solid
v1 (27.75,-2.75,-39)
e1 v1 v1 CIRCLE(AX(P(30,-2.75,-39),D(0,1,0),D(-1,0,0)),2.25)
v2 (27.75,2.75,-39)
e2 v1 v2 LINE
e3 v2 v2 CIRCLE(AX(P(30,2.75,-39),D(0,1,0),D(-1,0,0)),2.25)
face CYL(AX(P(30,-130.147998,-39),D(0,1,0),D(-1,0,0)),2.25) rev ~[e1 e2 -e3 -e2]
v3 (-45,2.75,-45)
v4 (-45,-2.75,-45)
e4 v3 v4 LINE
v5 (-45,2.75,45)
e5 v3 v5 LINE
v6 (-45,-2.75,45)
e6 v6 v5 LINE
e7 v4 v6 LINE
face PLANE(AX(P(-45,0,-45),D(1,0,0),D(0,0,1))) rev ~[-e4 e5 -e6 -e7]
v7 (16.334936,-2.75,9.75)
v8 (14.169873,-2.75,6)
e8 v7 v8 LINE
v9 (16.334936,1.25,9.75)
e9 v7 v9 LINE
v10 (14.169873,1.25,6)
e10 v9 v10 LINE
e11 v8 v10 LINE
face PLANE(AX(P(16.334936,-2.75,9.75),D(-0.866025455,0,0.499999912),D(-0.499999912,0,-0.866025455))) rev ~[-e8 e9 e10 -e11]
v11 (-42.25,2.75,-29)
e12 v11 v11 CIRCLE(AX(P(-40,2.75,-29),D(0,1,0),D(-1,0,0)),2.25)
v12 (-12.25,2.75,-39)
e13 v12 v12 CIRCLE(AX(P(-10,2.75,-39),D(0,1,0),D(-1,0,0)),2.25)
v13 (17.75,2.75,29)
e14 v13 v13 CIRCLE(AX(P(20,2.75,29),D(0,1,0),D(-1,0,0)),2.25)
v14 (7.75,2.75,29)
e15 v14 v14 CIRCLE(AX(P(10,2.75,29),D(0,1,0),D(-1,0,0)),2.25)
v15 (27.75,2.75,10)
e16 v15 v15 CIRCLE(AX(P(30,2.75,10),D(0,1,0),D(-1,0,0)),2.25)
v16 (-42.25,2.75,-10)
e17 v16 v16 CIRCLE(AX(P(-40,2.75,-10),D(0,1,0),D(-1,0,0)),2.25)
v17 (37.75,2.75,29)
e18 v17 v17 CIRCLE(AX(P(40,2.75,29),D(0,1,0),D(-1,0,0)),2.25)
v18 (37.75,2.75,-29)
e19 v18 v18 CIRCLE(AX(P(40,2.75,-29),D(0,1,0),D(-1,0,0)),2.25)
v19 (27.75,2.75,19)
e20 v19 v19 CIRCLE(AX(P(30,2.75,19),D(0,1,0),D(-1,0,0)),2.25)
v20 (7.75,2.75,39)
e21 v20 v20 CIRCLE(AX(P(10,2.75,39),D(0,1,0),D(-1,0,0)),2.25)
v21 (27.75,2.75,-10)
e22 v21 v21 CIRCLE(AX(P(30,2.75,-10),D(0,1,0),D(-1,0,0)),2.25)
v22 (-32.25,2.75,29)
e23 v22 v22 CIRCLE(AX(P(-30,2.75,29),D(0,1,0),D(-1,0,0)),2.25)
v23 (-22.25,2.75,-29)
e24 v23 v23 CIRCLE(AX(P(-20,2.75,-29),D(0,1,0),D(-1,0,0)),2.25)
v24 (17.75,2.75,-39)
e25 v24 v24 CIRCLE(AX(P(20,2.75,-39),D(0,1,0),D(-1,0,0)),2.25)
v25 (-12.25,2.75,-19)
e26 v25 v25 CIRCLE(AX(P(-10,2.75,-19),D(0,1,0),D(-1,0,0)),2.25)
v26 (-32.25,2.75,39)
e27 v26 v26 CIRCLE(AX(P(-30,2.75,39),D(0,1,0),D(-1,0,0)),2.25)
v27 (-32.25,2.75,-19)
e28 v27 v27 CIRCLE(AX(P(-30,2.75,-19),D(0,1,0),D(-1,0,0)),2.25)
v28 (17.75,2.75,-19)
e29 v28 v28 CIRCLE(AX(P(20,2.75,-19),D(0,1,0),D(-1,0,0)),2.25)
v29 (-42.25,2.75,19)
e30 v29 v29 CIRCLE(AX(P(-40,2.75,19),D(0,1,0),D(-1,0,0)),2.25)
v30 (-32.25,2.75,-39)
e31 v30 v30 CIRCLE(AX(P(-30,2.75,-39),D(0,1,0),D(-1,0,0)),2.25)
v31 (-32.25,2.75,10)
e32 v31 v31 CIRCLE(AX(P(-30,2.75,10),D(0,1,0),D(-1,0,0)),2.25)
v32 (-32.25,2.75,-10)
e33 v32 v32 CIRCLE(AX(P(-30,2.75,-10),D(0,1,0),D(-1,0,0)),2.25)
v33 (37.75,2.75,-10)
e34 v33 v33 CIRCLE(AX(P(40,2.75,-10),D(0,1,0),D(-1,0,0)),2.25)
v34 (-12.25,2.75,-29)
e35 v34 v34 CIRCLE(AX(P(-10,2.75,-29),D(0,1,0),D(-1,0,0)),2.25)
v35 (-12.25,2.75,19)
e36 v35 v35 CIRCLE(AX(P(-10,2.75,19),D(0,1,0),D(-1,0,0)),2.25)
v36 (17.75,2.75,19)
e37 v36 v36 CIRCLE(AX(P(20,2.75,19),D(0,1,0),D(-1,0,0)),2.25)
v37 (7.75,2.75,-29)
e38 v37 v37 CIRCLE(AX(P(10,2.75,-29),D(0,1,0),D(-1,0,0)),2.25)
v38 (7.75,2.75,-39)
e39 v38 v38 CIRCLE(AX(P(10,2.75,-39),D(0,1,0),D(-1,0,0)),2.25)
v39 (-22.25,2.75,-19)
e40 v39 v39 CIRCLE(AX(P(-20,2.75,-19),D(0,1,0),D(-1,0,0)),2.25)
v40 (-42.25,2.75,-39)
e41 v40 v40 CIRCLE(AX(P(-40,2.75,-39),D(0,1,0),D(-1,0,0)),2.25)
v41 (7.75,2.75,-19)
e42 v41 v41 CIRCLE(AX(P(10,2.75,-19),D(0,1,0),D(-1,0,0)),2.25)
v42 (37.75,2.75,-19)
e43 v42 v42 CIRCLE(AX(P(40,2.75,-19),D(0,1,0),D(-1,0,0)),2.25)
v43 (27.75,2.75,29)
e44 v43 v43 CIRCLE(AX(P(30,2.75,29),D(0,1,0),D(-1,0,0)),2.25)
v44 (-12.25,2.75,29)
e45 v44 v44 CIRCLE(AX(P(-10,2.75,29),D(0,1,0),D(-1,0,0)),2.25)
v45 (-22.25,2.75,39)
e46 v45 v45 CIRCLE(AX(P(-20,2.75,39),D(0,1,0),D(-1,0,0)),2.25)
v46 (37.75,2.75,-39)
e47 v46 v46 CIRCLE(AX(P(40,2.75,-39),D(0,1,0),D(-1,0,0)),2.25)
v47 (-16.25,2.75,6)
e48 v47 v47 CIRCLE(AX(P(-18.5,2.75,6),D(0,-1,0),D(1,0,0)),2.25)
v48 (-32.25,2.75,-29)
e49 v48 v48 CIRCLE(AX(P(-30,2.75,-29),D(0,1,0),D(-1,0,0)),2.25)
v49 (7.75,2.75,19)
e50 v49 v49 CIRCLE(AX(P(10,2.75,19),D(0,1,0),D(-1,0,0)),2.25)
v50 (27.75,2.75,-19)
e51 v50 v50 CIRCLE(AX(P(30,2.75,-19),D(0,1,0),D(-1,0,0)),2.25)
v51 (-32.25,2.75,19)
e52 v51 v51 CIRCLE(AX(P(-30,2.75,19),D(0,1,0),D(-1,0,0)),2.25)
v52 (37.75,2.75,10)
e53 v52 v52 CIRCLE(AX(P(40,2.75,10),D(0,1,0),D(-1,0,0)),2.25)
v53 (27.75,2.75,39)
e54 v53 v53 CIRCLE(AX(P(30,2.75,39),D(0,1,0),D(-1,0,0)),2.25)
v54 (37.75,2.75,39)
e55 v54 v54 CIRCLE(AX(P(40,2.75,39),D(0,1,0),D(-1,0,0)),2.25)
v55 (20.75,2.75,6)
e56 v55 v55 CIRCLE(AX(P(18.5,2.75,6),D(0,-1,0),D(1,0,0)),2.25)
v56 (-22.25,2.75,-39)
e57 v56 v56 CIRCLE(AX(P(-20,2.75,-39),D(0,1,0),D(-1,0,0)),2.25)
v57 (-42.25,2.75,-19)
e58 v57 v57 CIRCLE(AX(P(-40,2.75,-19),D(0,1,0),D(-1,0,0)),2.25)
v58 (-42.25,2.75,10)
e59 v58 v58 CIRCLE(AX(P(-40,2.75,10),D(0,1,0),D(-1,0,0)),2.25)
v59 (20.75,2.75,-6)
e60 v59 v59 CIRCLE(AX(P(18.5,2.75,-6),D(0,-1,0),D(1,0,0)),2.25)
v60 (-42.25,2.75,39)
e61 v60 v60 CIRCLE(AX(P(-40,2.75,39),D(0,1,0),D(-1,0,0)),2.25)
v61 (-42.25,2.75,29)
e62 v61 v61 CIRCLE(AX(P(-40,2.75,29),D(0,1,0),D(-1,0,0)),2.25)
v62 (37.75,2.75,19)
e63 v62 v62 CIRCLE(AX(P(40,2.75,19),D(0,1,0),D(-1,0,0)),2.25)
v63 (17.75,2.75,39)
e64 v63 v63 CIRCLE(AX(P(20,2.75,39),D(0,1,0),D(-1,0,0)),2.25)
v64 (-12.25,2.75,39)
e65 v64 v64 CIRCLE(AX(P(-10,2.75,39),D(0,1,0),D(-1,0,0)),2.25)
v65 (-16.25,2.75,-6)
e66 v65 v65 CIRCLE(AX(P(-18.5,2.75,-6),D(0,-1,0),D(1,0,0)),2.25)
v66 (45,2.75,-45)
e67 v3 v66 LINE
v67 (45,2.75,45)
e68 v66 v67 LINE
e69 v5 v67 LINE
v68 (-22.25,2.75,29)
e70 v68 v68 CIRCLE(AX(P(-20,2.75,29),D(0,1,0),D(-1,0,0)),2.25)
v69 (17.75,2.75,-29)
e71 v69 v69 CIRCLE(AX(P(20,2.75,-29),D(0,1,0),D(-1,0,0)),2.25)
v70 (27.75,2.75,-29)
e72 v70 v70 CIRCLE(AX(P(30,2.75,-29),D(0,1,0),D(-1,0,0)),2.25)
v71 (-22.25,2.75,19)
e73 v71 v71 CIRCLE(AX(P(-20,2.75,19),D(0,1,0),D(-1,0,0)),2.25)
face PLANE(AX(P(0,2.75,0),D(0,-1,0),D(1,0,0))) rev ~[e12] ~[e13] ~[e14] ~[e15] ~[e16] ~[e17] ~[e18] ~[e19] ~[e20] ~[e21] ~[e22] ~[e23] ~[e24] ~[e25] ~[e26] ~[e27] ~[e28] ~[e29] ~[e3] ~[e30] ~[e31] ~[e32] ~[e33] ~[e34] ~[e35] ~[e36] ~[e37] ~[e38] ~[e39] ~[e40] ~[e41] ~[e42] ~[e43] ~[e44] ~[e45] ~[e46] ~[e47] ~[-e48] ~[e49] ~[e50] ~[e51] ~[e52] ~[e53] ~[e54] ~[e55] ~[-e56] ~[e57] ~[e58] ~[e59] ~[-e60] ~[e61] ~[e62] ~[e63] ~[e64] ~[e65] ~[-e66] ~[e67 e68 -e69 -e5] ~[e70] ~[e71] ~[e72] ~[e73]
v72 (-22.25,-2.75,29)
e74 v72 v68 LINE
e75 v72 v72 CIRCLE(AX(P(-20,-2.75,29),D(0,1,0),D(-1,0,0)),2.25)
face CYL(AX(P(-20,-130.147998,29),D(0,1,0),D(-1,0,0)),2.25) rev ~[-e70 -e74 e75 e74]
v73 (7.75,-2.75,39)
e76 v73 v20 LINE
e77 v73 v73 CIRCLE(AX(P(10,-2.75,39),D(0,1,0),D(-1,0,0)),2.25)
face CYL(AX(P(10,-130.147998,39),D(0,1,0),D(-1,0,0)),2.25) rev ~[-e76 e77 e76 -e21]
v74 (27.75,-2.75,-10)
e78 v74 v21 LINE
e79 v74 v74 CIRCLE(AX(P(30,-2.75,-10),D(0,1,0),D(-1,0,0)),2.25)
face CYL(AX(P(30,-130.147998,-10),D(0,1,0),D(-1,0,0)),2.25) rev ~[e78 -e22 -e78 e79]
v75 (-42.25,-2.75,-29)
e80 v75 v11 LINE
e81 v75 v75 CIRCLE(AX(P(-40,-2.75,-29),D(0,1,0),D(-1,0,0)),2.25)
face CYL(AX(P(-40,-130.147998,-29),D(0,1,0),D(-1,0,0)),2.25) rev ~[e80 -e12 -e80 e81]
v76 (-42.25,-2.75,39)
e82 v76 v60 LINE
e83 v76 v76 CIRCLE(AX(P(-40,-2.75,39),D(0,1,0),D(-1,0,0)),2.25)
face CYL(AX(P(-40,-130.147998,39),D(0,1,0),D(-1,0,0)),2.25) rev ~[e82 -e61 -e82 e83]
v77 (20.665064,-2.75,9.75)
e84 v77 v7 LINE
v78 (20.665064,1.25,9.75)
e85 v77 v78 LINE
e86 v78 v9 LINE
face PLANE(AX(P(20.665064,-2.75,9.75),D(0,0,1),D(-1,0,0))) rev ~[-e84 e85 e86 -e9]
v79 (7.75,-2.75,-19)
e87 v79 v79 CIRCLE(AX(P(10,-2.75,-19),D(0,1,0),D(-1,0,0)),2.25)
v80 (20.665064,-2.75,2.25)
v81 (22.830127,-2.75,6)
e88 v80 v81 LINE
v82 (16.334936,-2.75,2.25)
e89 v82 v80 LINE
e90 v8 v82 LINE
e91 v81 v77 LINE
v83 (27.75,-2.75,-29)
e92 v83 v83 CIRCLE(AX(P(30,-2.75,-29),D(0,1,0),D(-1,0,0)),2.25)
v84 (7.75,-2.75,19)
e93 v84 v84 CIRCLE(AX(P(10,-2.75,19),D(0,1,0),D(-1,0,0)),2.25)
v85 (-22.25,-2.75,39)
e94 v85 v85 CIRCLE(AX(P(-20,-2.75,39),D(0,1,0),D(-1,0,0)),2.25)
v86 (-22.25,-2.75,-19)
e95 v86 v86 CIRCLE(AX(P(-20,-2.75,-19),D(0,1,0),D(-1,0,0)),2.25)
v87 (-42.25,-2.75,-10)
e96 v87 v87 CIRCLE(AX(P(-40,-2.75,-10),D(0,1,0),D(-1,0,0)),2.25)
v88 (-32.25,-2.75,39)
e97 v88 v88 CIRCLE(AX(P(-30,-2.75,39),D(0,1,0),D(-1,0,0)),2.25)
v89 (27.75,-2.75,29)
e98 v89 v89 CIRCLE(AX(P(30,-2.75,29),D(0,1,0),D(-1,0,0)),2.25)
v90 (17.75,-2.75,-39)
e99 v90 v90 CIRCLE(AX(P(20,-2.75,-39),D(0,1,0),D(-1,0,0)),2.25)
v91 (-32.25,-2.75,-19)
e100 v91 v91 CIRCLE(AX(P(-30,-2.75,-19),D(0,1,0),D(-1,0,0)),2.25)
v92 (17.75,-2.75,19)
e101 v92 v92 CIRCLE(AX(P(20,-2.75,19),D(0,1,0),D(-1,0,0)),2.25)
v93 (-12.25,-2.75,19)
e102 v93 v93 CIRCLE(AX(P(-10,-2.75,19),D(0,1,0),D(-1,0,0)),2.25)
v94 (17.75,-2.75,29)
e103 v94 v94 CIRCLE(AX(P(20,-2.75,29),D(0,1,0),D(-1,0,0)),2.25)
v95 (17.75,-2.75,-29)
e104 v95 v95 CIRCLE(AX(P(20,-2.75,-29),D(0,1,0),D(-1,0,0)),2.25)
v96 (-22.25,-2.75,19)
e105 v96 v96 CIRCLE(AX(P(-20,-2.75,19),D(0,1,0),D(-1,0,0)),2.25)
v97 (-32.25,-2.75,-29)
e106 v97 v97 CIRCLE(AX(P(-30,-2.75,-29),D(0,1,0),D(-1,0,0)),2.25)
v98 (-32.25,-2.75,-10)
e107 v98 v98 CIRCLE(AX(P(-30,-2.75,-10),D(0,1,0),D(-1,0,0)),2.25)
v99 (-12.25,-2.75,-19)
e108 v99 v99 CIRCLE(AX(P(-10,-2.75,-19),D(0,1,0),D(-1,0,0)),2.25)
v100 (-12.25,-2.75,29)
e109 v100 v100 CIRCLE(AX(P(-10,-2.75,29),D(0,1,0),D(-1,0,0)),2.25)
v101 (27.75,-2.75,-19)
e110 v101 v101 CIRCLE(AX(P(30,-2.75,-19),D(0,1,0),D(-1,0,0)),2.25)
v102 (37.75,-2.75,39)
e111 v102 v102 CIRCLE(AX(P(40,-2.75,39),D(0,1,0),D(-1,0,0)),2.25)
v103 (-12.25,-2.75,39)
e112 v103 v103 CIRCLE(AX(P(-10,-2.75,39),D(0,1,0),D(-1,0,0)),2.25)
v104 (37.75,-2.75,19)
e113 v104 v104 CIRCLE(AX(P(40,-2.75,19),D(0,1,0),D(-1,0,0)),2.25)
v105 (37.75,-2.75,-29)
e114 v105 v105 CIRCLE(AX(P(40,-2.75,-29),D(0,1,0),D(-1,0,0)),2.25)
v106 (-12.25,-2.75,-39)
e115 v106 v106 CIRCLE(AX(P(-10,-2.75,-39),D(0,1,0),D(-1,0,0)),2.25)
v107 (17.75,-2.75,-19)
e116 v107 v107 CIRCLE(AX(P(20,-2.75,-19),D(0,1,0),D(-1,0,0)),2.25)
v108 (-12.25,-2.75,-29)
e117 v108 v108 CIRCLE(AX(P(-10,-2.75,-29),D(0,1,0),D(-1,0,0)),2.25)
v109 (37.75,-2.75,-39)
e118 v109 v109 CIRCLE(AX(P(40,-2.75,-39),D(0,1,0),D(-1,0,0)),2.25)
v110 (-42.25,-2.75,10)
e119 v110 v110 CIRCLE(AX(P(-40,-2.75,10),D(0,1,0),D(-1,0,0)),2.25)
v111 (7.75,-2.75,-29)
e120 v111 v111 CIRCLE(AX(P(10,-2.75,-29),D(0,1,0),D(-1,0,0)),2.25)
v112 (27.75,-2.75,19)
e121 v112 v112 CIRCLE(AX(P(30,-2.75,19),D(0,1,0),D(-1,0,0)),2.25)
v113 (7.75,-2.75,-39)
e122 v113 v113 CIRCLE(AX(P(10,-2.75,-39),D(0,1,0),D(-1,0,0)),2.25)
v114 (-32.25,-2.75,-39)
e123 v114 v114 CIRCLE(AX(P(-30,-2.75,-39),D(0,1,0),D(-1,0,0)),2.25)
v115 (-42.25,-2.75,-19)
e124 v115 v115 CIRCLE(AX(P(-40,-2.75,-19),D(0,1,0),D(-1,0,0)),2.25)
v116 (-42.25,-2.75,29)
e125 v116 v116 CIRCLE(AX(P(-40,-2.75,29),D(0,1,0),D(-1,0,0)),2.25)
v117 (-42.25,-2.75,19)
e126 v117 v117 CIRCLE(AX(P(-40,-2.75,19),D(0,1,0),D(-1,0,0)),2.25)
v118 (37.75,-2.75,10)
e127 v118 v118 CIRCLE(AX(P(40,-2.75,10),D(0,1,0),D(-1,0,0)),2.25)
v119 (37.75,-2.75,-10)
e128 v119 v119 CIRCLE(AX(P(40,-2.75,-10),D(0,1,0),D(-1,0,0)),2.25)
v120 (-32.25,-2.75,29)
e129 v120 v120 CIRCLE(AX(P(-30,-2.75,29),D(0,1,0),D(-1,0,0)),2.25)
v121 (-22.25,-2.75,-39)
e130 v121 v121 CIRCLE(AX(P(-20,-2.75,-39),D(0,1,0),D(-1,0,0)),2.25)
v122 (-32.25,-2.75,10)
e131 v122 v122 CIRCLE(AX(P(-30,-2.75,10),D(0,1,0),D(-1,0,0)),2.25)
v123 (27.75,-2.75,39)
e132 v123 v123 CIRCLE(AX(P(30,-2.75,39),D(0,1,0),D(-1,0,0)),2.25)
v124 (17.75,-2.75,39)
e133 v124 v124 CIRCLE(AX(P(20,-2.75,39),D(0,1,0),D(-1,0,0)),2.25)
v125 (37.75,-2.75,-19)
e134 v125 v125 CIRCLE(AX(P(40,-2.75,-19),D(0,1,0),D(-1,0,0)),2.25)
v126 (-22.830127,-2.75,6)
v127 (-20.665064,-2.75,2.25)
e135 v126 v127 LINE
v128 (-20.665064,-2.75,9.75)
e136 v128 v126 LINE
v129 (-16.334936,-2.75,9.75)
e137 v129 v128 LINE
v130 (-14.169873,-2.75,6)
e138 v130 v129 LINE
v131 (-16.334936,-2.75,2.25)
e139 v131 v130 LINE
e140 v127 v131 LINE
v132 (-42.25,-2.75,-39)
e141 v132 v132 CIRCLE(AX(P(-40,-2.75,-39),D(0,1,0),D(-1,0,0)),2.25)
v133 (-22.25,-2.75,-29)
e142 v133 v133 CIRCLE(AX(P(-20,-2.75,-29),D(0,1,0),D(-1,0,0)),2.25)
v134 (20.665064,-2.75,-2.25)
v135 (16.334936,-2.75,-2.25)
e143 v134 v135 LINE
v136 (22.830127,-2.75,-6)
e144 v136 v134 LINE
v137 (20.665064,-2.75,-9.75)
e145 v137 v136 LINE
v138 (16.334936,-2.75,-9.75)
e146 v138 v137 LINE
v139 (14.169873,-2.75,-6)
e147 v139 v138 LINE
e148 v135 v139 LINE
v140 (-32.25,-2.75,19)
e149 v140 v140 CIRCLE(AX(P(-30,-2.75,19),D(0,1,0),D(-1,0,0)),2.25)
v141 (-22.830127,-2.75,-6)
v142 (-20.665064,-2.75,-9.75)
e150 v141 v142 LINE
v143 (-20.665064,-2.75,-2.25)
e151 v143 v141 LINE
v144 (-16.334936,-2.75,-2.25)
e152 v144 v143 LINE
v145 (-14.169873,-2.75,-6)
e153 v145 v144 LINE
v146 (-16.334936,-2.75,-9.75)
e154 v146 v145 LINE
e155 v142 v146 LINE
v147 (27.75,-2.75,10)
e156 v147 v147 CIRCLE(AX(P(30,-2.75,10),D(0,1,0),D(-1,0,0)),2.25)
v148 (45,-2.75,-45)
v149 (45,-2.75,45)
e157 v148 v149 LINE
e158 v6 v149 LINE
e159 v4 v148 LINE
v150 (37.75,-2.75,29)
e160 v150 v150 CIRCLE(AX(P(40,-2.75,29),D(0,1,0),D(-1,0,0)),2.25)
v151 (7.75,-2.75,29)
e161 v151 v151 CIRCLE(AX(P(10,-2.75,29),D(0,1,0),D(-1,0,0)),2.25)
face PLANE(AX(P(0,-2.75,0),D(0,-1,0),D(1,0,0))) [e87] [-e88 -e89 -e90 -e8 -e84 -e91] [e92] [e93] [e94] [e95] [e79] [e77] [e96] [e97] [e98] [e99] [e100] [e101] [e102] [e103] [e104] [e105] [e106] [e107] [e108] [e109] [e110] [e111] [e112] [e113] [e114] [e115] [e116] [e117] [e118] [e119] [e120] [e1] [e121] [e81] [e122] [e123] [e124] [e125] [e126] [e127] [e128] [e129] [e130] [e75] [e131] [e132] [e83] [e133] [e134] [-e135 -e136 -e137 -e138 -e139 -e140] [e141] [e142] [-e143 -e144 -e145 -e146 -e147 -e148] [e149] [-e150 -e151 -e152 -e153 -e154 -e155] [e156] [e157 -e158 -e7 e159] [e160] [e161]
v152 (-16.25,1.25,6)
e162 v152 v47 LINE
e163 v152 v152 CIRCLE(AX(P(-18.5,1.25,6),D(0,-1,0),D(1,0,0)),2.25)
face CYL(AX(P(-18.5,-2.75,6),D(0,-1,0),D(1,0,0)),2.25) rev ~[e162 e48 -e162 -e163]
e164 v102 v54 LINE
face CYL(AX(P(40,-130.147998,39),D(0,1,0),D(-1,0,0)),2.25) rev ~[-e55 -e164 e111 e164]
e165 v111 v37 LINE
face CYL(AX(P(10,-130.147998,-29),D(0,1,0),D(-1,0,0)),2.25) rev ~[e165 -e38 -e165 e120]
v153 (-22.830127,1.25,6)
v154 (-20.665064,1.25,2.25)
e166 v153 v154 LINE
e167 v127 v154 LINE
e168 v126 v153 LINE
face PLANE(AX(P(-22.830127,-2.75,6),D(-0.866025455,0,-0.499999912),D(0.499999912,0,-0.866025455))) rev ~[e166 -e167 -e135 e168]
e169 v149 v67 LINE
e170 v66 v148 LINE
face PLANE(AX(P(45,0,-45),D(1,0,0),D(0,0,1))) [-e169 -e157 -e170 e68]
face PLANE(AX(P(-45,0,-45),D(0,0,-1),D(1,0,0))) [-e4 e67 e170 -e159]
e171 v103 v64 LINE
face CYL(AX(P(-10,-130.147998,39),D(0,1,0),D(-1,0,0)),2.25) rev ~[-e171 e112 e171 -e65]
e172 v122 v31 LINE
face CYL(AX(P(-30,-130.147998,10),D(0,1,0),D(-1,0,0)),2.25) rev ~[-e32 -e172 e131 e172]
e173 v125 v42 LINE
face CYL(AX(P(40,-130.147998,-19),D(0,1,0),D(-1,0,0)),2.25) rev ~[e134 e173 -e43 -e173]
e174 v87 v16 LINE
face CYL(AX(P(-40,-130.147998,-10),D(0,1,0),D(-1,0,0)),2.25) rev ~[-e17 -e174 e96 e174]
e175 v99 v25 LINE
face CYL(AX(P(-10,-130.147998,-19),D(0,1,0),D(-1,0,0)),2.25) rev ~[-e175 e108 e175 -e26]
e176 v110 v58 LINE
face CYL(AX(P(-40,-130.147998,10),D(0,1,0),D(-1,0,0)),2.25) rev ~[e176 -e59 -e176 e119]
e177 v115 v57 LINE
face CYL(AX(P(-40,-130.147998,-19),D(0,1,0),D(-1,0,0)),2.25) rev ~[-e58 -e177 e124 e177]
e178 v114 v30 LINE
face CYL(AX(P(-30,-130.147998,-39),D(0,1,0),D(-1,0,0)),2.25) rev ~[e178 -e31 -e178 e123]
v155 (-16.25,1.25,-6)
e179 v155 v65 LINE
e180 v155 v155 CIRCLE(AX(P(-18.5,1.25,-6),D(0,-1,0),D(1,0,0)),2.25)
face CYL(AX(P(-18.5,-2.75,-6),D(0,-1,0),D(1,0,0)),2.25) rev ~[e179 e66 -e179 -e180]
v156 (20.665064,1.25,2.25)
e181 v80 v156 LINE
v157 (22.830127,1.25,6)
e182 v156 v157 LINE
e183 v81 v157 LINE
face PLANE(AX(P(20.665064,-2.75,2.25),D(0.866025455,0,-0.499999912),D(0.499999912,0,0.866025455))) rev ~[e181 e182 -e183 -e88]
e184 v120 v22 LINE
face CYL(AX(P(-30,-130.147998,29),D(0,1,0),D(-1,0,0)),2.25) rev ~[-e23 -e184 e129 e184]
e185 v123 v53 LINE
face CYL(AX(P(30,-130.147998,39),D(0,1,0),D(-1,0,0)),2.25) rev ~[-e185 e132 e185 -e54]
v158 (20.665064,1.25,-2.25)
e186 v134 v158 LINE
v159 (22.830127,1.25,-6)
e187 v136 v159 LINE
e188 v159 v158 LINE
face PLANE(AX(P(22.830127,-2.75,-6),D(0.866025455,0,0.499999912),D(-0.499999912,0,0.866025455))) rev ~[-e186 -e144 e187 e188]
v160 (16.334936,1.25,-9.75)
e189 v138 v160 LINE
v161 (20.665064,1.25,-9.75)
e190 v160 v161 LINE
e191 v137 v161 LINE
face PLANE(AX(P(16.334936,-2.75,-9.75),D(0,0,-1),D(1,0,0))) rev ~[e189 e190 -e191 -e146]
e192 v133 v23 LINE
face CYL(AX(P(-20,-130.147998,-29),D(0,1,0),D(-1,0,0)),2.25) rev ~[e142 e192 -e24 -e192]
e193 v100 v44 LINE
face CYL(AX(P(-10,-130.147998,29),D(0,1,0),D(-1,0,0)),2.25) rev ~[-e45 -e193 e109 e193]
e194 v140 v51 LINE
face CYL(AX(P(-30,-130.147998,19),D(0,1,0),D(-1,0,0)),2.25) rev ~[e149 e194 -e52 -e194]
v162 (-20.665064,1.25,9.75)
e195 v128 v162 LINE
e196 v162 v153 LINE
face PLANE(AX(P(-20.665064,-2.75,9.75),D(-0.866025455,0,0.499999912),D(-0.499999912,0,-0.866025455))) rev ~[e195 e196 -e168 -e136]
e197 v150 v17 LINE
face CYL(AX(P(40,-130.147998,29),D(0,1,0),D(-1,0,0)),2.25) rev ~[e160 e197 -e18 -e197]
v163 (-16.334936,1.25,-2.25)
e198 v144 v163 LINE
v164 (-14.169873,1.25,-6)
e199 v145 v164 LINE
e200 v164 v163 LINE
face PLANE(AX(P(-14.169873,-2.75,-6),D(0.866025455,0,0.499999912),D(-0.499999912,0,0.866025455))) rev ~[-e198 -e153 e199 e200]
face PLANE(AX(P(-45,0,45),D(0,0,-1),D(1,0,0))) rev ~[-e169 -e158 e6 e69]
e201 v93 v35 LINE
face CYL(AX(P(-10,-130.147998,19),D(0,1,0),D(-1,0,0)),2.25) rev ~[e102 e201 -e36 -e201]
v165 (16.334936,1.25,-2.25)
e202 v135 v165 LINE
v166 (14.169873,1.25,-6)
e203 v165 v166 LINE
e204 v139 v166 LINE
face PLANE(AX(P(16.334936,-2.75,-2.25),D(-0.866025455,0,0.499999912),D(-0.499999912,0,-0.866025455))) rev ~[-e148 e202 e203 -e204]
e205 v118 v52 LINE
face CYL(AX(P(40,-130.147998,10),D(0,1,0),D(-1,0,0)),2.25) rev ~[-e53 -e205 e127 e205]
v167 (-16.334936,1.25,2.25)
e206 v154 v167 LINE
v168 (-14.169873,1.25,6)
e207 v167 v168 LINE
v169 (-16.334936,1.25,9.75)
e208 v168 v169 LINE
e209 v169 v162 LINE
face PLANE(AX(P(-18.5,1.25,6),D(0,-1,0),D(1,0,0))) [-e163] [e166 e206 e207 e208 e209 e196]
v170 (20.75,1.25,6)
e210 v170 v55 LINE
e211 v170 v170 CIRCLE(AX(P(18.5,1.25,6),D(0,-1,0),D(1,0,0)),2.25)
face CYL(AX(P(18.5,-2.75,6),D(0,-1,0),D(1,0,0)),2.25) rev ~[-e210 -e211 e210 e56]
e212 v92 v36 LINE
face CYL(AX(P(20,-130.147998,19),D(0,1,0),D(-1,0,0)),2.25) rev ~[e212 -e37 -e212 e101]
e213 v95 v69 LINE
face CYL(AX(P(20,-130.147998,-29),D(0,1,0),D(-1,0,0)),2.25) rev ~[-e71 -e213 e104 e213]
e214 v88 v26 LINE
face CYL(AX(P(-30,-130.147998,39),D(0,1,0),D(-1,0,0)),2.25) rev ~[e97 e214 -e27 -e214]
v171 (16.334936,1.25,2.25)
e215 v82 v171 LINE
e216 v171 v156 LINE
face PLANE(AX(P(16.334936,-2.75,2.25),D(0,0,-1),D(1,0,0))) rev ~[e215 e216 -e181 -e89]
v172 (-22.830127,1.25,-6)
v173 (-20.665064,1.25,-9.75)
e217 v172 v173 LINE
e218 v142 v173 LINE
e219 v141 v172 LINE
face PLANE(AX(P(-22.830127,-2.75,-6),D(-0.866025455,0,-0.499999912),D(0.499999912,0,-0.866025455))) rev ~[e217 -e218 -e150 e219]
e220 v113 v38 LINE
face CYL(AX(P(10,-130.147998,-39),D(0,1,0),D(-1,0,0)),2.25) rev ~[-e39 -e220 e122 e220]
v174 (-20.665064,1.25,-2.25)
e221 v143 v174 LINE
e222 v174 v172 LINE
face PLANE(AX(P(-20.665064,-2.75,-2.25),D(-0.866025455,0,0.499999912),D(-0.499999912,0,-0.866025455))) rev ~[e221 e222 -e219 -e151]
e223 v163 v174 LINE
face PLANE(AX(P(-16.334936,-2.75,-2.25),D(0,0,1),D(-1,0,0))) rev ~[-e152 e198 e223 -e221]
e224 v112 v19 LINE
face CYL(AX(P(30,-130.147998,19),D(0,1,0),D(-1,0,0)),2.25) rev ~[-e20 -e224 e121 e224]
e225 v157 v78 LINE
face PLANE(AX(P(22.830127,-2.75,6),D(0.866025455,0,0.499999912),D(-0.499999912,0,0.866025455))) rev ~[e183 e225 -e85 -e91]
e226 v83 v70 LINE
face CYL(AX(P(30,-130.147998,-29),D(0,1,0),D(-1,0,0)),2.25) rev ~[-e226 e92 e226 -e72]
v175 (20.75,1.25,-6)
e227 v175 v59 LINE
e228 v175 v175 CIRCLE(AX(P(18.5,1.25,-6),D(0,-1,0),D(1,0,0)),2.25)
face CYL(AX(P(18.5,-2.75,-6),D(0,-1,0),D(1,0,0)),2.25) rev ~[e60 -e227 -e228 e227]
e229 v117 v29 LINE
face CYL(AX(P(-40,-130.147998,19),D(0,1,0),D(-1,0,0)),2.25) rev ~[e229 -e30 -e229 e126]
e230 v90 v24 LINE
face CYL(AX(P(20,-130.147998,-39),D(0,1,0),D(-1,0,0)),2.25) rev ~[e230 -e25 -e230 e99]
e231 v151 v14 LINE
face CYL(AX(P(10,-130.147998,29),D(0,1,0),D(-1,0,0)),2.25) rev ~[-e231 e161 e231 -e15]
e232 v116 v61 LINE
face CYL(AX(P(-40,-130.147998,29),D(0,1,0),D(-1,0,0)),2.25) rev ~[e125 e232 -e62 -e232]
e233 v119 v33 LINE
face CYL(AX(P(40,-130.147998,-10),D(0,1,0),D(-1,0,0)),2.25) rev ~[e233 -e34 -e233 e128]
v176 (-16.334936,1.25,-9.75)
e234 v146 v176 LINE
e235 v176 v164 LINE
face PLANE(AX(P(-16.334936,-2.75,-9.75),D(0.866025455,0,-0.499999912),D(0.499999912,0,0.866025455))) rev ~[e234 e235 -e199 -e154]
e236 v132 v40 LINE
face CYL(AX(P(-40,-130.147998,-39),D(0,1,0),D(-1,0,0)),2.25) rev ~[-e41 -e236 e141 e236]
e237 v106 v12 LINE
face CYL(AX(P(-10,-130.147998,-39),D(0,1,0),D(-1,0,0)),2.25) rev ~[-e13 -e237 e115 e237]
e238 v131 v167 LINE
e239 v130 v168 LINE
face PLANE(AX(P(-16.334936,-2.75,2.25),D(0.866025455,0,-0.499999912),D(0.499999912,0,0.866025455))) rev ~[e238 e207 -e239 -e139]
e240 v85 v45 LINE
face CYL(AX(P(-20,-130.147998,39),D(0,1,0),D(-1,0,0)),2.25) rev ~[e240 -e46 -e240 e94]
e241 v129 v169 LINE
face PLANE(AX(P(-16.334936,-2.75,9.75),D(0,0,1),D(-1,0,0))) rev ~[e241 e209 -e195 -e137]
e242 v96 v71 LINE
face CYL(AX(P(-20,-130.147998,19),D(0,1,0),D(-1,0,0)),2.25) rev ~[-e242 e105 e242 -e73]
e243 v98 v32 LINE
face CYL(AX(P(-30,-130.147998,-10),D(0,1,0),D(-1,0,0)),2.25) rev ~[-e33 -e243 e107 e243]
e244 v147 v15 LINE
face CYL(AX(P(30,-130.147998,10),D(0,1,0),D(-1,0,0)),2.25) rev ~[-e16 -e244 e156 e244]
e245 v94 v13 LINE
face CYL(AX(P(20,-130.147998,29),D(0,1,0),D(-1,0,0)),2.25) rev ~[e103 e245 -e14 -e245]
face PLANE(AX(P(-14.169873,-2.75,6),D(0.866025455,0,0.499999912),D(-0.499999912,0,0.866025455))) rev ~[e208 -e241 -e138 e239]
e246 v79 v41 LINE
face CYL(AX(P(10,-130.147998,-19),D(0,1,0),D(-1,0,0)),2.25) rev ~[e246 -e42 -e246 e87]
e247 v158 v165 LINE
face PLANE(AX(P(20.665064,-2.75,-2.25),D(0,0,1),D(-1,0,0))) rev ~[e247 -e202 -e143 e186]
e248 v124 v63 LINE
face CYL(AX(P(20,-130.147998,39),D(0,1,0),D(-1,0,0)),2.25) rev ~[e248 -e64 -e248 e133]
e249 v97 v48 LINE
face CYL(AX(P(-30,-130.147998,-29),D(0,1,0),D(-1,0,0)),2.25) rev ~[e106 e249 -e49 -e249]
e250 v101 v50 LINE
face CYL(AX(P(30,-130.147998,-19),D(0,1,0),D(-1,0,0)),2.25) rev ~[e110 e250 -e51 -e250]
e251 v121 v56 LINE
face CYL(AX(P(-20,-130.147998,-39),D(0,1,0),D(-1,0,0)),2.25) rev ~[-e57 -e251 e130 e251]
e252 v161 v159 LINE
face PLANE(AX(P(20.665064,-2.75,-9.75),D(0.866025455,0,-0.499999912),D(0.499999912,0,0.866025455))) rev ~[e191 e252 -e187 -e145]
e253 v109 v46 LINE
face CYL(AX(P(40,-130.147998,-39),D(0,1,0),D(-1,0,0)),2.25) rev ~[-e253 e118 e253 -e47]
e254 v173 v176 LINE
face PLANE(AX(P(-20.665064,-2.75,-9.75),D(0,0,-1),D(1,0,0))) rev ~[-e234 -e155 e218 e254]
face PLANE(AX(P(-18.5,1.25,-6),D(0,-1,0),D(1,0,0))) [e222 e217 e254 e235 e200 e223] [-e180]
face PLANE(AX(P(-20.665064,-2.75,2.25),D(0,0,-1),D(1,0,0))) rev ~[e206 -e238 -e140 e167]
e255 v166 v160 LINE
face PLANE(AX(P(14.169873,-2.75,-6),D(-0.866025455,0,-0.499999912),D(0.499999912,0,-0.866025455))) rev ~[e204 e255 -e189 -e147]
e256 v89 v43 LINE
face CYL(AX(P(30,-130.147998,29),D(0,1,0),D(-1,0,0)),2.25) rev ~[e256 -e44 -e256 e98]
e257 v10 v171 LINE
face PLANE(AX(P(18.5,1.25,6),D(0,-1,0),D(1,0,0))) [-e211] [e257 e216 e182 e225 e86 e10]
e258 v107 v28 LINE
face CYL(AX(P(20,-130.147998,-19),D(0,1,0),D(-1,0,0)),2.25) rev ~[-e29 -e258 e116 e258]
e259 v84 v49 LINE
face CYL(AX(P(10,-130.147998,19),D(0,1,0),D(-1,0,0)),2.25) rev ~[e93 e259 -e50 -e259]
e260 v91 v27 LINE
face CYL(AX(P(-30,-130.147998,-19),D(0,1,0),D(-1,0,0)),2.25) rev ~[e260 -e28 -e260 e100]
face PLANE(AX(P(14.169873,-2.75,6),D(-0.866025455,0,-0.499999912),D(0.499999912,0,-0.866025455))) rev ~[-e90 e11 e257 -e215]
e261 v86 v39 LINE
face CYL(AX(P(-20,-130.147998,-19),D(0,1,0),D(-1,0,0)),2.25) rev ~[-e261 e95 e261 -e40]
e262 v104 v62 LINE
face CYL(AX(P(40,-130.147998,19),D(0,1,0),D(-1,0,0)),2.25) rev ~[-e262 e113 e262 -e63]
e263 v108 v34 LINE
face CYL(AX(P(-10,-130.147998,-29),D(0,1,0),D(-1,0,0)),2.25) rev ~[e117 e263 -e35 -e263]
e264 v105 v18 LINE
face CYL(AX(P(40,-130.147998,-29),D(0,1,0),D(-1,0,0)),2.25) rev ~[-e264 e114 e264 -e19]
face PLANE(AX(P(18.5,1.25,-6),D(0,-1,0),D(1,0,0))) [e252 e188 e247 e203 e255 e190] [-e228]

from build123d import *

# Parameters (mm, degrees)
F0_W     = 90
F0_H     = 90
F1_DEPTH = 2.75
F3_DEPTH = 4
F4_R     = 2.25
F5_DEPTH = 5.501
F7_D     = 4.5


with BuildPart() as f1:
    # F0 (on Front) → F1 (new body, symmetric)
    with BuildSketch(Plane.XZ):
        Rectangle(F0_W, F0_H)
    extrude(amount=F1_DEPTH, both=True)

    # F2 (on face) → F3 (cut)
    with BuildSketch(Plane.XZ.offset(2.75)):
        Polygon((-16.334936, 9.75), (-20.665064, 9.75), (-22.830127, 6), (-20.665064, 2.25), (-16.334936, 2.25), (-14.169873, 6), align=None)
        Polygon((-16.334936, -2.25), (-20.665064, -2.25), (-22.830127, -6), (-20.665064, -9.75), (-16.334936, -9.75), (-14.169873, -6), align=None)
        Polygon((20.665064, -2.25), (16.334936, -2.25), (14.169873, -6), (16.334936, -9.75), (20.665064, -9.75), (22.830127, -6), align=None)
        Polygon((16.334936, 2.25), (20.665064, 2.25), (22.830127, 6), (20.665064, 9.75), (16.334936, 9.75), (14.169873, 6), align=None)
    extrude(amount=-F3_DEPTH, mode=Mode.SUBTRACT)

    # F4 (on face) → F5 (cut, through all)
    with BuildSketch(Plane.XZ.offset(2.75)):
        with Locations((-18.5, 6)):
            Circle(F4_R)
        with Locations((-18.5, -6)):
            Circle(F4_R)
        with Locations((18.5, 6)):
            Circle(F4_R)
        with Locations((18.5, -6)):
            Circle(F4_R)
    extrude(amount=-F5_DEPTH, mode=Mode.SUBTRACT)

    # F7 (through all)
    with Locations(Plane.XZ.offset(2.75)):
        with Locations((-40, 39), (-30, 39), (-20, 39), (-10, 39), (10, 39), (20, 39), (30, 39), (40, 39), (40, 29), (30, 29), (20, 29), (-10, 29), (10, 29), (-30, 29), (-20, 29), (-40, 29), (30, 19), (-40, 19), (10, 19), (-10, 19), (20, 19), (-20, 19), (40, 19), (-30, 19), (30, 10), (30, -10), (40, -39), (40, 10), (30, -29), (30, -39), (40, -19), (40, -10), (30, -19), (40, -29), (-30, -10), (-40, -19), (-40, -29), (-30, -19), (-30, -39), (-30, 10), (-40, -10), (-40, -39), (-40, 10), (-30, -29), (-10, -29), (20, -39), (-10, -19), (20, -29), (10, -19), (10, -29), (-20, -19), (-20, -39), (10, -39), (-10, -39), (-20, -29), (20, -19)):
            Hole(F7_D / 2)


solid = f1.part
